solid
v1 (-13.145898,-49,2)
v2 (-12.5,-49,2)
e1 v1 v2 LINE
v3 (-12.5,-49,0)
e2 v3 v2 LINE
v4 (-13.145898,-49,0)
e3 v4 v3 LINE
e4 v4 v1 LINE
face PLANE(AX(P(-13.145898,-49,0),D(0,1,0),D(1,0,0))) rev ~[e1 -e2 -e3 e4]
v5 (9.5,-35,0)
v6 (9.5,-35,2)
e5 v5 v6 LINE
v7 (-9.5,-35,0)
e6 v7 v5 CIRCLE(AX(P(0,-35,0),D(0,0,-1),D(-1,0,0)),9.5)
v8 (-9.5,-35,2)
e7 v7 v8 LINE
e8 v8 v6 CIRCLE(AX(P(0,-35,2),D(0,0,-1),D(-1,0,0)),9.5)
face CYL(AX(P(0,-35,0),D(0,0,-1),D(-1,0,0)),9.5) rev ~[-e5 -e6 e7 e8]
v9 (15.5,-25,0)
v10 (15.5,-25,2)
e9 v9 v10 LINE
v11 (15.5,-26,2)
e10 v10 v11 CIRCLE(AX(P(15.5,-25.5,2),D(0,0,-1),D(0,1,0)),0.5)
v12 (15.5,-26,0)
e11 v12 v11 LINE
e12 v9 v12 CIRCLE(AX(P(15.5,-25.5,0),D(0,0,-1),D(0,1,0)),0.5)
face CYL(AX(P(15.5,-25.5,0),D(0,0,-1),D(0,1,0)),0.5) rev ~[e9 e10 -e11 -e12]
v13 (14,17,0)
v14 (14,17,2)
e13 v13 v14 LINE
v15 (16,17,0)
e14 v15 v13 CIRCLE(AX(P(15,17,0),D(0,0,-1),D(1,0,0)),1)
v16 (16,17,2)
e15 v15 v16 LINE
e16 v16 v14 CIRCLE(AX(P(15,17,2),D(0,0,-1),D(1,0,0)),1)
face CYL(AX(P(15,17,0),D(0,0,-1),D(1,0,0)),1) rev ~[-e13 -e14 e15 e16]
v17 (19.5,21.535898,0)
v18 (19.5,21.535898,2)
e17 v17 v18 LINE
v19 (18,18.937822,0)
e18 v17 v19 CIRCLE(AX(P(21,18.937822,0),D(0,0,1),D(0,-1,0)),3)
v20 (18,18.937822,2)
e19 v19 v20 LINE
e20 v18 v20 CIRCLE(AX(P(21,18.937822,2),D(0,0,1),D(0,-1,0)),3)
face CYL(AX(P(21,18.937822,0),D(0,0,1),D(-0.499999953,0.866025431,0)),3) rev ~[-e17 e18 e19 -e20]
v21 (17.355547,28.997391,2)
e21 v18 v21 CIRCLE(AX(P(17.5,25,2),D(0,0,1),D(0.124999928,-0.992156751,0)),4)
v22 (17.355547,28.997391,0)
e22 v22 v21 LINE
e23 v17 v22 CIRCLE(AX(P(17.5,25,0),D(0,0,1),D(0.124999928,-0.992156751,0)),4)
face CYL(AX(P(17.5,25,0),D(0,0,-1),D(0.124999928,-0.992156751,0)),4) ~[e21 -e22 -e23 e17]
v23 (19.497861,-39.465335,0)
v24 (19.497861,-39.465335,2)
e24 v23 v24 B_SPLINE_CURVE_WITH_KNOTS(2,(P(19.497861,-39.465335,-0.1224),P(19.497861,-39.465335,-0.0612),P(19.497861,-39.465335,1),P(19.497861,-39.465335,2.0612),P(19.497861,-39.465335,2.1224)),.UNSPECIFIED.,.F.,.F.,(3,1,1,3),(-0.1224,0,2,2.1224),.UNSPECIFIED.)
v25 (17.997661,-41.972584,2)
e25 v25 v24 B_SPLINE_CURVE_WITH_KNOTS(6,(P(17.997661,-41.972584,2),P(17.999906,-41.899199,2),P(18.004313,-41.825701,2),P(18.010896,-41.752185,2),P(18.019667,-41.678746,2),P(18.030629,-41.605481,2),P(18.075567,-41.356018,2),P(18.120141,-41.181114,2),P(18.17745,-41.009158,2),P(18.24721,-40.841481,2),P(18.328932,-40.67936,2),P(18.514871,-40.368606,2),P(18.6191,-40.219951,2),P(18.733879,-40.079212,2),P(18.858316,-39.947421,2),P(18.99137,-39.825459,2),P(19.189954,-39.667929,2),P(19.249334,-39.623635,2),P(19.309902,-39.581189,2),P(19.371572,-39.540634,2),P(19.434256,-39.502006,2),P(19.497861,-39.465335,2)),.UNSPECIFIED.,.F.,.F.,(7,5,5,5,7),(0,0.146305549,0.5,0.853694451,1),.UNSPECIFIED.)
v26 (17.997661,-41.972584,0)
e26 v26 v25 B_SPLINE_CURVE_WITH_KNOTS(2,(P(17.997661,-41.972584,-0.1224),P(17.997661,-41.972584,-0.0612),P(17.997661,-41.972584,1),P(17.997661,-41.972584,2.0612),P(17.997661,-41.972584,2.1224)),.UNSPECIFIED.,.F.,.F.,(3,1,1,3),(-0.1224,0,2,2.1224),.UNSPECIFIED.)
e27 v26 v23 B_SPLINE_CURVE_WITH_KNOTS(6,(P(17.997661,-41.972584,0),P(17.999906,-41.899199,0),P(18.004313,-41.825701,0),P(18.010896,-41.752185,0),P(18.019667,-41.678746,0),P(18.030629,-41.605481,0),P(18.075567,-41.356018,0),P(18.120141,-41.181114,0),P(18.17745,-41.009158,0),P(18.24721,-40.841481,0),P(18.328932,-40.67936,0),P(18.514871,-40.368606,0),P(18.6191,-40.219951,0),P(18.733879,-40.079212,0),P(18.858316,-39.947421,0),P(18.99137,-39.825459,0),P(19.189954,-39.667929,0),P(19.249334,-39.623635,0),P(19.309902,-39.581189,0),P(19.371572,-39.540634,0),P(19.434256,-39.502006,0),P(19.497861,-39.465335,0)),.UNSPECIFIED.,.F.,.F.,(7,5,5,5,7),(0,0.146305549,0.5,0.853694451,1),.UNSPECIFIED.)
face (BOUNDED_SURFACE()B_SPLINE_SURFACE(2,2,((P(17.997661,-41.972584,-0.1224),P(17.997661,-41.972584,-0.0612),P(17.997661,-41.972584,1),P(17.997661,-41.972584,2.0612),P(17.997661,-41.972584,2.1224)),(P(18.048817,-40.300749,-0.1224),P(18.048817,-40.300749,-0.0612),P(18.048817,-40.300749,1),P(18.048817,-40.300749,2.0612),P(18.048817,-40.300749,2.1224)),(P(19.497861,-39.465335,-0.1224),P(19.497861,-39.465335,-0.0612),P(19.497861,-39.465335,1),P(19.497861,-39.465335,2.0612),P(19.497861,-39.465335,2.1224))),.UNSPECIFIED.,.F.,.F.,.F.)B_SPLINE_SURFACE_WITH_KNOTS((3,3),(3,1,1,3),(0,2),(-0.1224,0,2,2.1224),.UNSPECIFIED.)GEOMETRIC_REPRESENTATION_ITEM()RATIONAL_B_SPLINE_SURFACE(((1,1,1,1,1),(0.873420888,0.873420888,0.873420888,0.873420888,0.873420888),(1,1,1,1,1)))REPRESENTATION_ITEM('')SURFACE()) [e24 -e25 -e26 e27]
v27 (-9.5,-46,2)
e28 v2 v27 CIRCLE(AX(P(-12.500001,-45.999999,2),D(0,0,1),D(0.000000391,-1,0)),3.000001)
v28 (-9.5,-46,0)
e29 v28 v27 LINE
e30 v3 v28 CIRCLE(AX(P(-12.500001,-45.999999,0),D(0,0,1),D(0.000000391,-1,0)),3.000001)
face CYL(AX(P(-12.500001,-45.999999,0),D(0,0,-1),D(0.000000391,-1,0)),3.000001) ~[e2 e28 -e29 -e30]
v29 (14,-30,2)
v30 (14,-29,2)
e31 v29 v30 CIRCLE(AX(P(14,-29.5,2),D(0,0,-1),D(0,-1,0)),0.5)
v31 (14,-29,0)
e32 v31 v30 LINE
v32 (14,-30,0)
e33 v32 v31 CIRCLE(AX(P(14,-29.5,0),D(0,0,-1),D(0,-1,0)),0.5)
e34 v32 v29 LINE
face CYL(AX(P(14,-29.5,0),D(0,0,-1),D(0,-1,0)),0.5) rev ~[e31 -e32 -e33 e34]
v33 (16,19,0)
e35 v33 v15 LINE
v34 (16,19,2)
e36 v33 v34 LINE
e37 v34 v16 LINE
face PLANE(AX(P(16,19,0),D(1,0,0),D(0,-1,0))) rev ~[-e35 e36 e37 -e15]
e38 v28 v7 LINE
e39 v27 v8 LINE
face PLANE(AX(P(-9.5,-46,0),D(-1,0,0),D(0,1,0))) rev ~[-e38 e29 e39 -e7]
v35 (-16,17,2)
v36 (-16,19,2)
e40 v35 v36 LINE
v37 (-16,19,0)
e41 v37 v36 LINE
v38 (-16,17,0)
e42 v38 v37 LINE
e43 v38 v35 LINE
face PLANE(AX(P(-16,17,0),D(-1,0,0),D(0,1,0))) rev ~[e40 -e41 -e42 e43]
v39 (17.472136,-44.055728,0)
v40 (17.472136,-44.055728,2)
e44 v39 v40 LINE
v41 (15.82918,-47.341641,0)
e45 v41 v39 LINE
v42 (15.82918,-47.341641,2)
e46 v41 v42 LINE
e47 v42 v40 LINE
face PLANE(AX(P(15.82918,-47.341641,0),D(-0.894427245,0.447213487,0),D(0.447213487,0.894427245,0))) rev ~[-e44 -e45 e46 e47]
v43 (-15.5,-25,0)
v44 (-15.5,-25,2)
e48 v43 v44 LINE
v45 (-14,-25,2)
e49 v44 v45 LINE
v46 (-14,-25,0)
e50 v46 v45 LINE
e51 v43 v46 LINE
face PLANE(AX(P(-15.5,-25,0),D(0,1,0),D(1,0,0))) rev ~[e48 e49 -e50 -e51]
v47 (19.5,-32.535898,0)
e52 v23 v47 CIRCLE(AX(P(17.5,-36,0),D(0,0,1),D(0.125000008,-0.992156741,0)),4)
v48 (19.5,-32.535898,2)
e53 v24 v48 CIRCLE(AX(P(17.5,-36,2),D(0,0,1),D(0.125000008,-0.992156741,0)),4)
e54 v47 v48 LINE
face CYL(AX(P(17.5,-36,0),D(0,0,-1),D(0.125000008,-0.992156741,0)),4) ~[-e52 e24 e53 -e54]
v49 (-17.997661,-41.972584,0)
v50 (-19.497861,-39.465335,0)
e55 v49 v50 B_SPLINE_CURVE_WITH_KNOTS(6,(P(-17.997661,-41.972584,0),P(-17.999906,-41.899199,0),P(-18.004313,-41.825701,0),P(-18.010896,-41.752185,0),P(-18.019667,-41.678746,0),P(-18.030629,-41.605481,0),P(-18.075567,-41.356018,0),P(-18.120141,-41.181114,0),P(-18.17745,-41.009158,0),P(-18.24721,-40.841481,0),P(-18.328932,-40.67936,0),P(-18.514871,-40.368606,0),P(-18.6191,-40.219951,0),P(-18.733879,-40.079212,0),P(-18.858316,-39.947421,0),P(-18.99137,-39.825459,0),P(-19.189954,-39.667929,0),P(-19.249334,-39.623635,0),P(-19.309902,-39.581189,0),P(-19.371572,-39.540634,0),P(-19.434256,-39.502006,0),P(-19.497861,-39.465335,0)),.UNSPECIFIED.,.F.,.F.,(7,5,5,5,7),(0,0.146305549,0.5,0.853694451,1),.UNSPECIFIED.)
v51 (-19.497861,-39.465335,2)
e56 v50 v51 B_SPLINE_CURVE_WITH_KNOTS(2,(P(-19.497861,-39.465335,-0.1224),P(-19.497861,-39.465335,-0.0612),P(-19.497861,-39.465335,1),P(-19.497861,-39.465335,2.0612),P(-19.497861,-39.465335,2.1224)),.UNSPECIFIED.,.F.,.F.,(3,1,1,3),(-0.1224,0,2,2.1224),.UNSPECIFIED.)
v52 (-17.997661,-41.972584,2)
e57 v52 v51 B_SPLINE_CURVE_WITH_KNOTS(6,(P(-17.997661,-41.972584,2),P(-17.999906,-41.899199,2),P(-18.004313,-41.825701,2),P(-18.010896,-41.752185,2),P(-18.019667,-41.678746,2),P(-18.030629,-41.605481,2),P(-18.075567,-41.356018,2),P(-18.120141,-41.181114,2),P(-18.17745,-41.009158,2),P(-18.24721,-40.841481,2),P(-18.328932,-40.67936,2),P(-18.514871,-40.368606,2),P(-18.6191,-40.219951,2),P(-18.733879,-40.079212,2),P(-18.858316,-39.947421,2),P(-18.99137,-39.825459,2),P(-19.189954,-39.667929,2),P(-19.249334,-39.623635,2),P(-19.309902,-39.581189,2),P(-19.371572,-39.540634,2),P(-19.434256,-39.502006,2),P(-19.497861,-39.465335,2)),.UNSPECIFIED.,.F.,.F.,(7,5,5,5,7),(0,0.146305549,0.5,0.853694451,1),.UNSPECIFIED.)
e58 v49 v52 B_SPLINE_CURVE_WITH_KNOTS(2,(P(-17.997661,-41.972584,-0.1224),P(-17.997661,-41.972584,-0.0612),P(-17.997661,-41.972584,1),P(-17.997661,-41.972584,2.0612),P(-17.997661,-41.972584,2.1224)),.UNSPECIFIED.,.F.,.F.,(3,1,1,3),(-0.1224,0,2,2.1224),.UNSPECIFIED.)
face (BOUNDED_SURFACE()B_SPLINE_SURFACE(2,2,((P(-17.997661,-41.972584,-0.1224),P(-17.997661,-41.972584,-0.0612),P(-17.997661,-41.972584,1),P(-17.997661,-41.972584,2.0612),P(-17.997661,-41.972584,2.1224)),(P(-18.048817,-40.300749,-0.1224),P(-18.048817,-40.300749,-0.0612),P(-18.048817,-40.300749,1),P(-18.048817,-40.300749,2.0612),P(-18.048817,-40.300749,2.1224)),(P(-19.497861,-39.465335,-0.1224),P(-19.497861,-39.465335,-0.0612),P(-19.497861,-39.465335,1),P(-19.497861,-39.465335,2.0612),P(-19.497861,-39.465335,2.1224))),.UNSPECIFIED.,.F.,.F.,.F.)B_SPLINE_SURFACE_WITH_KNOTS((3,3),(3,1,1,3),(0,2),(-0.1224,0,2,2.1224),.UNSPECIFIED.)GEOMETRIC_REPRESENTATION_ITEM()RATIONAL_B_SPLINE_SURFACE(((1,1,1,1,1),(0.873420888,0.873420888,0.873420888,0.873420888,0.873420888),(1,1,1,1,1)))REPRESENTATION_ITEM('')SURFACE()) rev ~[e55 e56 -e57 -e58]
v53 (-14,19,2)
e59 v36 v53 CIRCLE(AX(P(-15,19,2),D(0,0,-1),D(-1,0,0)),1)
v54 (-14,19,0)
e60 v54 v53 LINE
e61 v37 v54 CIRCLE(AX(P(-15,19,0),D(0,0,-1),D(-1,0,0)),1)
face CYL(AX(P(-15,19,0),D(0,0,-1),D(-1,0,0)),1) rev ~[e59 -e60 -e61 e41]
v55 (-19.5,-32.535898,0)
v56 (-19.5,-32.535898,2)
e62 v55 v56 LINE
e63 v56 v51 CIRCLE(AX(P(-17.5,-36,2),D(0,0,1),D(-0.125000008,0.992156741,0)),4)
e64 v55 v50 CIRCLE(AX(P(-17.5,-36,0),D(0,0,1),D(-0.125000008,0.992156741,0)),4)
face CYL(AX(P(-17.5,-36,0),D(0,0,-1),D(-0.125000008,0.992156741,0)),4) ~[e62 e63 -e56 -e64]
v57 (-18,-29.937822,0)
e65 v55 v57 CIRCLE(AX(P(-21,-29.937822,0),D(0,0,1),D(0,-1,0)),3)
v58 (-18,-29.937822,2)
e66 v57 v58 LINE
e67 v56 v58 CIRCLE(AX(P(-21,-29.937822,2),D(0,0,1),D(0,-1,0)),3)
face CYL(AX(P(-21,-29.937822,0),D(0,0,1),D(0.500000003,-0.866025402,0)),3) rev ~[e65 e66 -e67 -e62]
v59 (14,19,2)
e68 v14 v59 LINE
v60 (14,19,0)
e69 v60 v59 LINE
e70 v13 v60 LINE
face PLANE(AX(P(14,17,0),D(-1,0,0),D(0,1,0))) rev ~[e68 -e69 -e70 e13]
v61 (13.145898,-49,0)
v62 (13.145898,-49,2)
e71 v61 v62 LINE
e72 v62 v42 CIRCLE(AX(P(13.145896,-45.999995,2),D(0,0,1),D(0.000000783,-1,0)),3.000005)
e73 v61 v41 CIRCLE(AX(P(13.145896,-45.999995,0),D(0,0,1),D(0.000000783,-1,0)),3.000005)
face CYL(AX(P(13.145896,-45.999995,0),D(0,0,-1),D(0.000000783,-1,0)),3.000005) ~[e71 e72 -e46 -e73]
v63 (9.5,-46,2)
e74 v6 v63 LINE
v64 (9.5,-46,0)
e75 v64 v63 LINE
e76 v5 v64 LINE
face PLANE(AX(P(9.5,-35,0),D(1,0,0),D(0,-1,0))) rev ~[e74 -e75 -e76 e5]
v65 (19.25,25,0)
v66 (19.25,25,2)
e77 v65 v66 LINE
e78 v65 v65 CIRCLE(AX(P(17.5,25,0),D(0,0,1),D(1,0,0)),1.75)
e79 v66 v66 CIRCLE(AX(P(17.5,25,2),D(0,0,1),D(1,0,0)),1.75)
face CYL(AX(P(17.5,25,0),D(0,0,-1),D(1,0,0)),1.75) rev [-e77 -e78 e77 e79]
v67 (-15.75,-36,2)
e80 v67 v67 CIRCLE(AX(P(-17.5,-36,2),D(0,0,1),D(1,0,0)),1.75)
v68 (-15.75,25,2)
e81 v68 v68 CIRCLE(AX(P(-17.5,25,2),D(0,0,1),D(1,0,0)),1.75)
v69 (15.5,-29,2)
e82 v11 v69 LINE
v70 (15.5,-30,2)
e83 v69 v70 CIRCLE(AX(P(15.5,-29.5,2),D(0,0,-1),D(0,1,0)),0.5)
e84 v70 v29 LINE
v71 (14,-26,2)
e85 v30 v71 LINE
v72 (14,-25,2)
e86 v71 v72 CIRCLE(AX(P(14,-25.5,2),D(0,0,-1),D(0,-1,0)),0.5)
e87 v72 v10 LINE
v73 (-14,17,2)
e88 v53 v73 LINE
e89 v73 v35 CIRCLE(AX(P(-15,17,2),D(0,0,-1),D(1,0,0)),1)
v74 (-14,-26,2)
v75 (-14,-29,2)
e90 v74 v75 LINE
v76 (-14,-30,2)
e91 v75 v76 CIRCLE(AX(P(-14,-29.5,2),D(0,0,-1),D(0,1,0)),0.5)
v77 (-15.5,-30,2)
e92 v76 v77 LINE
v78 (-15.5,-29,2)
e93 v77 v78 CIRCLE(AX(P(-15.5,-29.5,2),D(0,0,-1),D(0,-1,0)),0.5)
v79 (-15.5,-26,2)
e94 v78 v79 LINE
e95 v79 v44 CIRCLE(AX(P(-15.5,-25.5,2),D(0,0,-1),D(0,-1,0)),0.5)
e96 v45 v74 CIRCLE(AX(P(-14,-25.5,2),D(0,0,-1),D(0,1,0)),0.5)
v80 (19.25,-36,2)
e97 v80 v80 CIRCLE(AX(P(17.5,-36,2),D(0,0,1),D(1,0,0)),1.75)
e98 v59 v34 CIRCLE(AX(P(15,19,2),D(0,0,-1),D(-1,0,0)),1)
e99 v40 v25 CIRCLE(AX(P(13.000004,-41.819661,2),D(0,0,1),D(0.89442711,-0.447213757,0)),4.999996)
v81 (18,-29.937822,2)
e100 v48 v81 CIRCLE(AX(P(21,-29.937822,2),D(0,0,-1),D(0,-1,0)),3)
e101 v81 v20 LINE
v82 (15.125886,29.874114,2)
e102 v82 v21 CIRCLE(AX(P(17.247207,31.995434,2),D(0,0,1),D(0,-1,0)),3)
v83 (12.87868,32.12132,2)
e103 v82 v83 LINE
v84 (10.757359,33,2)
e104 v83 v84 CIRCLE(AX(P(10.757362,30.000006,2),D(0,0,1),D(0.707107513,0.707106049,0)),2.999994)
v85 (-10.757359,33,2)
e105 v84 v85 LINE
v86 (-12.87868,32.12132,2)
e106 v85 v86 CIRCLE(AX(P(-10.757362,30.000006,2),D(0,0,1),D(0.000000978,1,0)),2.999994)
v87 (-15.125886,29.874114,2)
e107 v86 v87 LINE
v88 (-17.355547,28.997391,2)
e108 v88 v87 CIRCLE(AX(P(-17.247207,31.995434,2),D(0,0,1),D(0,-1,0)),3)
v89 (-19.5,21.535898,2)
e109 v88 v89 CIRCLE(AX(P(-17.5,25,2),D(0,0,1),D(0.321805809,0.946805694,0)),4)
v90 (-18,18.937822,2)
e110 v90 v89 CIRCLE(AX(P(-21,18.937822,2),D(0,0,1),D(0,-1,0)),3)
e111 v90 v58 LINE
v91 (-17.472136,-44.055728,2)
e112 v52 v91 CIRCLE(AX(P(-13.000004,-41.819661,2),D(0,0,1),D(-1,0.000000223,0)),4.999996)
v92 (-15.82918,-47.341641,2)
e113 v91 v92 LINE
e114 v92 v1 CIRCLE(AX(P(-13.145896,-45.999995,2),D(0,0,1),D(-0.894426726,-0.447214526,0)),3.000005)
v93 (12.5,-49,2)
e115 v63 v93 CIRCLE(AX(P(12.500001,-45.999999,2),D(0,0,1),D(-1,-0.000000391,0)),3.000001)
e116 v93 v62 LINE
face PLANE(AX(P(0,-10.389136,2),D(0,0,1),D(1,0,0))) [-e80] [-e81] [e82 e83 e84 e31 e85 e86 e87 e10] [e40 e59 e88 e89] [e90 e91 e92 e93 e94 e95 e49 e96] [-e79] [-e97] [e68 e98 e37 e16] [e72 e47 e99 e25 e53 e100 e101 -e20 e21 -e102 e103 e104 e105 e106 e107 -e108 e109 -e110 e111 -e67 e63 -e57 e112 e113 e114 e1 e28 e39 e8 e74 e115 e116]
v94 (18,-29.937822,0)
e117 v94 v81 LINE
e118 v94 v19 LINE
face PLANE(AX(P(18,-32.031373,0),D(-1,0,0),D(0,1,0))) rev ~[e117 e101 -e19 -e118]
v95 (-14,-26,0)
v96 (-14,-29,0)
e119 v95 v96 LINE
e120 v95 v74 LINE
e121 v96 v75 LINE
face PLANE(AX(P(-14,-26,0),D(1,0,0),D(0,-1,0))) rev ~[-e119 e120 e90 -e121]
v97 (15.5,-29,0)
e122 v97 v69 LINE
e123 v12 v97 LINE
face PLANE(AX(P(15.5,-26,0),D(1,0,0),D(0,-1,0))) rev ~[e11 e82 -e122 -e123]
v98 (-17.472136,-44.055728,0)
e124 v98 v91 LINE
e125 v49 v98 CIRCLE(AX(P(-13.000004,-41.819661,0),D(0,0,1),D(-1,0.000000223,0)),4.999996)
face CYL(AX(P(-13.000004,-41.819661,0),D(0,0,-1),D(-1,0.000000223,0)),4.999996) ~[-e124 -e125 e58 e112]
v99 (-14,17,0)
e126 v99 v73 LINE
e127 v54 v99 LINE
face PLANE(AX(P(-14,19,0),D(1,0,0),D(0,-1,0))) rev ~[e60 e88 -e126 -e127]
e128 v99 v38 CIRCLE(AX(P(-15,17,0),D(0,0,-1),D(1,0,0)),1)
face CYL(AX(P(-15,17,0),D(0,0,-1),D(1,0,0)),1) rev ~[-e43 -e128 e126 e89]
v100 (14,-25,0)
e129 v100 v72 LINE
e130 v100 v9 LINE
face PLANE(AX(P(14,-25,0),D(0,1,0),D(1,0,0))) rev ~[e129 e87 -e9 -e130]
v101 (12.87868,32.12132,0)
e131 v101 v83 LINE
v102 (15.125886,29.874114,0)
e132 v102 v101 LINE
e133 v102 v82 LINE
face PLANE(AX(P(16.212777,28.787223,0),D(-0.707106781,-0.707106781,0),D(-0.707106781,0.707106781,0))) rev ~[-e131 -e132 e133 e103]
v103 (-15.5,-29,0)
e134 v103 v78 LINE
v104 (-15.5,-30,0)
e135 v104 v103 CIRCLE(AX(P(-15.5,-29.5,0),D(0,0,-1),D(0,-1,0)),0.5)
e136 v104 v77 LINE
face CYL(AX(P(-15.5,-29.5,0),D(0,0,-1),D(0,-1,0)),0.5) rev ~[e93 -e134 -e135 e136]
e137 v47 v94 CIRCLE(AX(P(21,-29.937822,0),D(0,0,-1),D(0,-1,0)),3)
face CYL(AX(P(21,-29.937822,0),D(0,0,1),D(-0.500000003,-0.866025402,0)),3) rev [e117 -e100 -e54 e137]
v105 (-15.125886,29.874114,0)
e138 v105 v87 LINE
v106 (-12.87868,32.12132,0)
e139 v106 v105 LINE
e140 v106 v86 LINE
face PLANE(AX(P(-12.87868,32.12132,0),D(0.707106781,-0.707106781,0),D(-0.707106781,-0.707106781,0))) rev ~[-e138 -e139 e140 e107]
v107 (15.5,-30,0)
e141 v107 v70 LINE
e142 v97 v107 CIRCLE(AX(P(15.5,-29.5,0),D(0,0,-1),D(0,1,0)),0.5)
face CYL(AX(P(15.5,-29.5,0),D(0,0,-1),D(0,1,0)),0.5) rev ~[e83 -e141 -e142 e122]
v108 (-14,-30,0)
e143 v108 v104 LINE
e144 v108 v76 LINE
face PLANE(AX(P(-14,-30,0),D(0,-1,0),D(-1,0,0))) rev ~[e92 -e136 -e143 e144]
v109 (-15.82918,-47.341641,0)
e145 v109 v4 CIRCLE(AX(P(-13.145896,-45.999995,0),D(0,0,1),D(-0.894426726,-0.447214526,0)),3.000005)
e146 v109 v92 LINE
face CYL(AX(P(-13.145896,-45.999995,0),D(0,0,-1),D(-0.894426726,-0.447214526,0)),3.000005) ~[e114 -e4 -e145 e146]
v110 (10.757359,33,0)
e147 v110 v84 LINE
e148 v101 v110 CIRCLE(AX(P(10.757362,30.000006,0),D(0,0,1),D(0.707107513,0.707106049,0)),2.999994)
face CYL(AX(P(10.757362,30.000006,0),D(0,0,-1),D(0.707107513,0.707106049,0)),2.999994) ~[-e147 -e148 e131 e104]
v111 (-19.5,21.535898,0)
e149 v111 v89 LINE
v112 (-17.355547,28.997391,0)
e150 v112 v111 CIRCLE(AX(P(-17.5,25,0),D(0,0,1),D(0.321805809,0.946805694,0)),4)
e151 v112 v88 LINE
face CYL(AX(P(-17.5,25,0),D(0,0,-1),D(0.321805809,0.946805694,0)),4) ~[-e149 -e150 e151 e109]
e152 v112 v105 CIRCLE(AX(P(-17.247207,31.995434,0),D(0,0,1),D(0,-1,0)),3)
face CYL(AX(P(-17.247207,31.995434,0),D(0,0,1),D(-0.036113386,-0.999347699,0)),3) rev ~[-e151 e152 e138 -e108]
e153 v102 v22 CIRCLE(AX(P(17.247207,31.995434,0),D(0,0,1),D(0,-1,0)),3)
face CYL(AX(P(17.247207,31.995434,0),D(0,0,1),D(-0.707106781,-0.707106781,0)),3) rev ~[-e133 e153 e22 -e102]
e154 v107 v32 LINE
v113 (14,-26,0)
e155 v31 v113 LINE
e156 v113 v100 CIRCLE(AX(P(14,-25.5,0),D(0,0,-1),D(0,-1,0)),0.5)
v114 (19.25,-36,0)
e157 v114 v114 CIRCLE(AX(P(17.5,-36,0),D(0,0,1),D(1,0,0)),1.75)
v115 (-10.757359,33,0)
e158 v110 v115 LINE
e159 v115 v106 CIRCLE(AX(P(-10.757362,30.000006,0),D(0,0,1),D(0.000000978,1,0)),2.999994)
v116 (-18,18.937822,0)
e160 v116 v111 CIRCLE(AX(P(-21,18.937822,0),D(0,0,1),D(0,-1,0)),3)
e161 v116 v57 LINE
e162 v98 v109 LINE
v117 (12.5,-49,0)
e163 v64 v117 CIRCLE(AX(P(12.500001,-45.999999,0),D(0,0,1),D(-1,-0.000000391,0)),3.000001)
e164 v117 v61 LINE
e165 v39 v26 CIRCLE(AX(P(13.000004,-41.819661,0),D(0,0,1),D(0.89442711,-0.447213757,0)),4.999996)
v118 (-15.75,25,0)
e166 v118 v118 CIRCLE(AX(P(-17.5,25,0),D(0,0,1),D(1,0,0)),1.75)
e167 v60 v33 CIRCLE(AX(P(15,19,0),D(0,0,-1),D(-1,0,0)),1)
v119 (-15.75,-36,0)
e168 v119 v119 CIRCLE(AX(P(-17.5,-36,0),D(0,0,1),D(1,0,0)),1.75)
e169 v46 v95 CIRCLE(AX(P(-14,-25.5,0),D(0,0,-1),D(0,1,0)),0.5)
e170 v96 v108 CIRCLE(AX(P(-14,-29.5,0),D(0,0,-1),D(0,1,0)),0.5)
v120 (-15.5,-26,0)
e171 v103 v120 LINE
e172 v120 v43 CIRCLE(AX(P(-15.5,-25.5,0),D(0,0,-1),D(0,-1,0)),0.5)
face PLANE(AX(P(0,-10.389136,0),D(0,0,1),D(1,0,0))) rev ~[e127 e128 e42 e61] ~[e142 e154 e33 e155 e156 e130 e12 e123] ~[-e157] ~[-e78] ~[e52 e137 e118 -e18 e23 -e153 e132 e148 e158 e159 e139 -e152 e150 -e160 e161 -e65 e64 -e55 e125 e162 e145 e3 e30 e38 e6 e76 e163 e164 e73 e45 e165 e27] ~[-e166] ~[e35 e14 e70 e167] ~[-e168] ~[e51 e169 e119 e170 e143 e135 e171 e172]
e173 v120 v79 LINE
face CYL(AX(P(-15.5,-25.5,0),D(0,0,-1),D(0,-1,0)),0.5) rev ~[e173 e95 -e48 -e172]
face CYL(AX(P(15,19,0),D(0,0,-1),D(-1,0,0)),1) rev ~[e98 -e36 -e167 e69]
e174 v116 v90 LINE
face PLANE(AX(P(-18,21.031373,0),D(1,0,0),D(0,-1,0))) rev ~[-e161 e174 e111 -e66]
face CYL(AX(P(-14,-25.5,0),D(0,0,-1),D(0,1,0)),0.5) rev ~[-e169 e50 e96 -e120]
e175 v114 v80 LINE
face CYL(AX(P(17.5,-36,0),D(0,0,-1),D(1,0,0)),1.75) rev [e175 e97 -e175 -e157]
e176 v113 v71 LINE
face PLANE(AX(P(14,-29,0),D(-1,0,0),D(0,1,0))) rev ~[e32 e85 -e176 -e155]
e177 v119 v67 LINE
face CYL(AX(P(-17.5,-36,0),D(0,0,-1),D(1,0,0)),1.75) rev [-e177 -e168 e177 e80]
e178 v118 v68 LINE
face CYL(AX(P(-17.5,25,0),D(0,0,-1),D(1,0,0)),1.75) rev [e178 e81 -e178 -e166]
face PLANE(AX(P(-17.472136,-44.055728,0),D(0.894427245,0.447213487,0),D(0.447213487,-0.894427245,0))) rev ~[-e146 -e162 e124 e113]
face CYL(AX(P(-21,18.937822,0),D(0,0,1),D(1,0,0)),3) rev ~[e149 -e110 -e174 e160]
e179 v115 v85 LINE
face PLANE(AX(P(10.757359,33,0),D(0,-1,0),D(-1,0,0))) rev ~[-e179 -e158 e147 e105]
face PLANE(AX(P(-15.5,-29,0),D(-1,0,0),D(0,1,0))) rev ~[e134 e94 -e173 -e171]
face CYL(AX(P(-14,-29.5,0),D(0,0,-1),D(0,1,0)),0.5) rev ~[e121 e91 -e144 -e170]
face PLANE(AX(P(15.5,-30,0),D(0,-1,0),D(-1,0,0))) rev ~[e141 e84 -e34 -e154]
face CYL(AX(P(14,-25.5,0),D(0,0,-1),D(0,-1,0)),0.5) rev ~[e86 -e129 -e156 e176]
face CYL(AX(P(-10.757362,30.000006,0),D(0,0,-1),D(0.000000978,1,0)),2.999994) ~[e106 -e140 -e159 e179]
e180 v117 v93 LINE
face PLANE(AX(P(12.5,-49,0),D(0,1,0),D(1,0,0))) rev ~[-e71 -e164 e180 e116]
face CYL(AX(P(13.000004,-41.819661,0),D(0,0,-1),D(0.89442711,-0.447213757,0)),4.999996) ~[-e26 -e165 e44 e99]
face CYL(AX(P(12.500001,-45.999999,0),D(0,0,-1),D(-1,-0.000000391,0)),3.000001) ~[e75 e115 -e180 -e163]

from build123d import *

# Parameters (mm, degrees)
F0_R     = 1.75
F1_DEPTH = 2
F2_R     = 3


with BuildPart() as f1:
    # F0 (on Top) → F1 (new body)
    with BuildSketch(Plane.XY):
        with BuildLine():
            ThreePointArc((-15.82918, -47.341641), (-14.723091, -48.551952), (-13.145898, -49))
            Line((-13.145898, -49), (-12.5, -49))
            ThreePointArc((-12.5, -49), (-10.37868, -48.12132), (-9.5, -46))
            Line((-9.5, -46), (-9.5, -35))
            ThreePointArc((-9.5, -35), (0, -25.5), (9.5, -35))
            Line((9.5, -35), (9.5, -46))
            ThreePointArc((9.5, -46), (10.37868, -48.12132), (12.5, -49))
            Line((12.5, -49), (13.145898, -49))
            ThreePointArc((13.145898, -49), (14.723091, -48.551952), (15.82918, -47.341641))
            Line((15.82918, -47.341641), (17.472136, -44.055728))
            ThreePointArc((17.472136, -44.055728), (17.866245, -42.968425), (18, -41.81966))
            Line((18, -41.81966), (18, -39.968627))
            ThreePointArc((18, -39.968627), (21.5, -36), (18, -32.031373))
            Line((18, -32.031373), (18, 21.031373))
            ThreePointArc((18, 21.031373), (21.39785, 25.898203), (16.212777, 28.787223))
            Line((16.212777, 28.787223), (12.87868, 32.12132))
            ThreePointArc((12.87868, 32.12132), (11.90541, 32.771639), (10.757359, 33))
            Line((10.757359, 33), (-10.757359, 33))
            ThreePointArc((-10.757359, 33), (-11.90541, 32.771639), (-12.87868, 32.12132))
            Line((-12.87868, 32.12132), (-16.212777, 28.787223))
            ThreePointArc((-16.212777, 28.787223), (-21.39785, 25.898203), (-18, 21.031373))
            Line((-18, 21.031373), (-18, -32.031373))
            ThreePointArc((-18, -32.031373), (-21.5, -36), (-18, -39.968627))
            Line((-18, -39.968627), (-18, -41.81966))
            ThreePointArc((-18, -41.81966), (-17.866245, -42.968425), (-17.472136, -44.055728))
            Line((-17.472136, -44.055728), (-15.82918, -47.341641))
        make_face()
        with Locations((-17.5, -36)):
            Circle(F0_R, mode=Mode.SUBTRACT)
        with BuildLine():
            ThreePointArc((-15.5, -26), (-16, -25.5), (-15.5, -25))
            Line((-15.5, -25), (-14, -25))
            ThreePointArc((-14, -25), (-13.5, -25.5), (-14, -26))
            Line((-14, -26), (-14, -29))
            ThreePointArc((-14, -29), (-13.5, -29.5), (-14, -30))
            Line((-14, -30), (-15.5, -30))
            ThreePointArc((-15.5, -30), (-16, -29.5), (-15.5, -29))
            Line((-15.5, -29), (-15.5, -26))
        make_face(mode=Mode.SUBTRACT)
        with Locations((17.5, -36)):
            Circle(F0_R, mode=Mode.SUBTRACT)
        with BuildLine():
            Line((15.5, -30), (14, -30))
            ThreePointArc((14, -30), (13.5, -29.5), (14, -29))
            Line((14, -29), (14, -26))
            ThreePointArc((14, -26), (13.5, -25.5), (14, -25))
            Line((14, -25), (15.5, -25))
            ThreePointArc((15.5, -25), (16, -25.5), (15.5, -26))
            Line((15.5, -26), (15.5, -29))
            ThreePointArc((15.5, -29), (16, -29.5), (15.5, -30))
        make_face(mode=Mode.SUBTRACT)
        with BuildLine():
            Line((-16, 17), (-16, 19))
            ThreePointArc((-16, 19), (-15, 20), (-14, 19))
            Line((-14, 19), (-14, 17))
            ThreePointArc((-14, 17), (-15, 16), (-16, 17))
        make_face(mode=Mode.SUBTRACT)
        with Locations((-17.5, 25)):
            Circle(F0_R, mode=Mode.SUBTRACT)
        with BuildLine():
            ThreePointArc((14, 19), (15, 20), (16, 19))
            Line((16, 19), (16, 17))
            ThreePointArc((16, 17), (15, 16), (14, 17))
            Line((14, 17), (14, 19))
        make_face(mode=Mode.SUBTRACT)
        with Locations((17.5, 25)):
            Circle(F0_R, mode=Mode.SUBTRACT)
    extrude(amount=F1_DEPTH)

    # F2
    f2_edges = [f1.edges().sort_by_distance(p)[0] for p in [
        (-18, -39.968627, 1),
        (-18, -32.031373, 1),
        (18, -39.968627, 1),
        (18, -32.031373, 1),
        (16.212777, 28.787223, 1),
        (18, 21.031373, 1),
        (-16.212777, 28.787223, 1),
        (-18, 21.031373, 1),
    ]]
    fillet(f2_edges, radius=F2_R)


solid = f1.part
